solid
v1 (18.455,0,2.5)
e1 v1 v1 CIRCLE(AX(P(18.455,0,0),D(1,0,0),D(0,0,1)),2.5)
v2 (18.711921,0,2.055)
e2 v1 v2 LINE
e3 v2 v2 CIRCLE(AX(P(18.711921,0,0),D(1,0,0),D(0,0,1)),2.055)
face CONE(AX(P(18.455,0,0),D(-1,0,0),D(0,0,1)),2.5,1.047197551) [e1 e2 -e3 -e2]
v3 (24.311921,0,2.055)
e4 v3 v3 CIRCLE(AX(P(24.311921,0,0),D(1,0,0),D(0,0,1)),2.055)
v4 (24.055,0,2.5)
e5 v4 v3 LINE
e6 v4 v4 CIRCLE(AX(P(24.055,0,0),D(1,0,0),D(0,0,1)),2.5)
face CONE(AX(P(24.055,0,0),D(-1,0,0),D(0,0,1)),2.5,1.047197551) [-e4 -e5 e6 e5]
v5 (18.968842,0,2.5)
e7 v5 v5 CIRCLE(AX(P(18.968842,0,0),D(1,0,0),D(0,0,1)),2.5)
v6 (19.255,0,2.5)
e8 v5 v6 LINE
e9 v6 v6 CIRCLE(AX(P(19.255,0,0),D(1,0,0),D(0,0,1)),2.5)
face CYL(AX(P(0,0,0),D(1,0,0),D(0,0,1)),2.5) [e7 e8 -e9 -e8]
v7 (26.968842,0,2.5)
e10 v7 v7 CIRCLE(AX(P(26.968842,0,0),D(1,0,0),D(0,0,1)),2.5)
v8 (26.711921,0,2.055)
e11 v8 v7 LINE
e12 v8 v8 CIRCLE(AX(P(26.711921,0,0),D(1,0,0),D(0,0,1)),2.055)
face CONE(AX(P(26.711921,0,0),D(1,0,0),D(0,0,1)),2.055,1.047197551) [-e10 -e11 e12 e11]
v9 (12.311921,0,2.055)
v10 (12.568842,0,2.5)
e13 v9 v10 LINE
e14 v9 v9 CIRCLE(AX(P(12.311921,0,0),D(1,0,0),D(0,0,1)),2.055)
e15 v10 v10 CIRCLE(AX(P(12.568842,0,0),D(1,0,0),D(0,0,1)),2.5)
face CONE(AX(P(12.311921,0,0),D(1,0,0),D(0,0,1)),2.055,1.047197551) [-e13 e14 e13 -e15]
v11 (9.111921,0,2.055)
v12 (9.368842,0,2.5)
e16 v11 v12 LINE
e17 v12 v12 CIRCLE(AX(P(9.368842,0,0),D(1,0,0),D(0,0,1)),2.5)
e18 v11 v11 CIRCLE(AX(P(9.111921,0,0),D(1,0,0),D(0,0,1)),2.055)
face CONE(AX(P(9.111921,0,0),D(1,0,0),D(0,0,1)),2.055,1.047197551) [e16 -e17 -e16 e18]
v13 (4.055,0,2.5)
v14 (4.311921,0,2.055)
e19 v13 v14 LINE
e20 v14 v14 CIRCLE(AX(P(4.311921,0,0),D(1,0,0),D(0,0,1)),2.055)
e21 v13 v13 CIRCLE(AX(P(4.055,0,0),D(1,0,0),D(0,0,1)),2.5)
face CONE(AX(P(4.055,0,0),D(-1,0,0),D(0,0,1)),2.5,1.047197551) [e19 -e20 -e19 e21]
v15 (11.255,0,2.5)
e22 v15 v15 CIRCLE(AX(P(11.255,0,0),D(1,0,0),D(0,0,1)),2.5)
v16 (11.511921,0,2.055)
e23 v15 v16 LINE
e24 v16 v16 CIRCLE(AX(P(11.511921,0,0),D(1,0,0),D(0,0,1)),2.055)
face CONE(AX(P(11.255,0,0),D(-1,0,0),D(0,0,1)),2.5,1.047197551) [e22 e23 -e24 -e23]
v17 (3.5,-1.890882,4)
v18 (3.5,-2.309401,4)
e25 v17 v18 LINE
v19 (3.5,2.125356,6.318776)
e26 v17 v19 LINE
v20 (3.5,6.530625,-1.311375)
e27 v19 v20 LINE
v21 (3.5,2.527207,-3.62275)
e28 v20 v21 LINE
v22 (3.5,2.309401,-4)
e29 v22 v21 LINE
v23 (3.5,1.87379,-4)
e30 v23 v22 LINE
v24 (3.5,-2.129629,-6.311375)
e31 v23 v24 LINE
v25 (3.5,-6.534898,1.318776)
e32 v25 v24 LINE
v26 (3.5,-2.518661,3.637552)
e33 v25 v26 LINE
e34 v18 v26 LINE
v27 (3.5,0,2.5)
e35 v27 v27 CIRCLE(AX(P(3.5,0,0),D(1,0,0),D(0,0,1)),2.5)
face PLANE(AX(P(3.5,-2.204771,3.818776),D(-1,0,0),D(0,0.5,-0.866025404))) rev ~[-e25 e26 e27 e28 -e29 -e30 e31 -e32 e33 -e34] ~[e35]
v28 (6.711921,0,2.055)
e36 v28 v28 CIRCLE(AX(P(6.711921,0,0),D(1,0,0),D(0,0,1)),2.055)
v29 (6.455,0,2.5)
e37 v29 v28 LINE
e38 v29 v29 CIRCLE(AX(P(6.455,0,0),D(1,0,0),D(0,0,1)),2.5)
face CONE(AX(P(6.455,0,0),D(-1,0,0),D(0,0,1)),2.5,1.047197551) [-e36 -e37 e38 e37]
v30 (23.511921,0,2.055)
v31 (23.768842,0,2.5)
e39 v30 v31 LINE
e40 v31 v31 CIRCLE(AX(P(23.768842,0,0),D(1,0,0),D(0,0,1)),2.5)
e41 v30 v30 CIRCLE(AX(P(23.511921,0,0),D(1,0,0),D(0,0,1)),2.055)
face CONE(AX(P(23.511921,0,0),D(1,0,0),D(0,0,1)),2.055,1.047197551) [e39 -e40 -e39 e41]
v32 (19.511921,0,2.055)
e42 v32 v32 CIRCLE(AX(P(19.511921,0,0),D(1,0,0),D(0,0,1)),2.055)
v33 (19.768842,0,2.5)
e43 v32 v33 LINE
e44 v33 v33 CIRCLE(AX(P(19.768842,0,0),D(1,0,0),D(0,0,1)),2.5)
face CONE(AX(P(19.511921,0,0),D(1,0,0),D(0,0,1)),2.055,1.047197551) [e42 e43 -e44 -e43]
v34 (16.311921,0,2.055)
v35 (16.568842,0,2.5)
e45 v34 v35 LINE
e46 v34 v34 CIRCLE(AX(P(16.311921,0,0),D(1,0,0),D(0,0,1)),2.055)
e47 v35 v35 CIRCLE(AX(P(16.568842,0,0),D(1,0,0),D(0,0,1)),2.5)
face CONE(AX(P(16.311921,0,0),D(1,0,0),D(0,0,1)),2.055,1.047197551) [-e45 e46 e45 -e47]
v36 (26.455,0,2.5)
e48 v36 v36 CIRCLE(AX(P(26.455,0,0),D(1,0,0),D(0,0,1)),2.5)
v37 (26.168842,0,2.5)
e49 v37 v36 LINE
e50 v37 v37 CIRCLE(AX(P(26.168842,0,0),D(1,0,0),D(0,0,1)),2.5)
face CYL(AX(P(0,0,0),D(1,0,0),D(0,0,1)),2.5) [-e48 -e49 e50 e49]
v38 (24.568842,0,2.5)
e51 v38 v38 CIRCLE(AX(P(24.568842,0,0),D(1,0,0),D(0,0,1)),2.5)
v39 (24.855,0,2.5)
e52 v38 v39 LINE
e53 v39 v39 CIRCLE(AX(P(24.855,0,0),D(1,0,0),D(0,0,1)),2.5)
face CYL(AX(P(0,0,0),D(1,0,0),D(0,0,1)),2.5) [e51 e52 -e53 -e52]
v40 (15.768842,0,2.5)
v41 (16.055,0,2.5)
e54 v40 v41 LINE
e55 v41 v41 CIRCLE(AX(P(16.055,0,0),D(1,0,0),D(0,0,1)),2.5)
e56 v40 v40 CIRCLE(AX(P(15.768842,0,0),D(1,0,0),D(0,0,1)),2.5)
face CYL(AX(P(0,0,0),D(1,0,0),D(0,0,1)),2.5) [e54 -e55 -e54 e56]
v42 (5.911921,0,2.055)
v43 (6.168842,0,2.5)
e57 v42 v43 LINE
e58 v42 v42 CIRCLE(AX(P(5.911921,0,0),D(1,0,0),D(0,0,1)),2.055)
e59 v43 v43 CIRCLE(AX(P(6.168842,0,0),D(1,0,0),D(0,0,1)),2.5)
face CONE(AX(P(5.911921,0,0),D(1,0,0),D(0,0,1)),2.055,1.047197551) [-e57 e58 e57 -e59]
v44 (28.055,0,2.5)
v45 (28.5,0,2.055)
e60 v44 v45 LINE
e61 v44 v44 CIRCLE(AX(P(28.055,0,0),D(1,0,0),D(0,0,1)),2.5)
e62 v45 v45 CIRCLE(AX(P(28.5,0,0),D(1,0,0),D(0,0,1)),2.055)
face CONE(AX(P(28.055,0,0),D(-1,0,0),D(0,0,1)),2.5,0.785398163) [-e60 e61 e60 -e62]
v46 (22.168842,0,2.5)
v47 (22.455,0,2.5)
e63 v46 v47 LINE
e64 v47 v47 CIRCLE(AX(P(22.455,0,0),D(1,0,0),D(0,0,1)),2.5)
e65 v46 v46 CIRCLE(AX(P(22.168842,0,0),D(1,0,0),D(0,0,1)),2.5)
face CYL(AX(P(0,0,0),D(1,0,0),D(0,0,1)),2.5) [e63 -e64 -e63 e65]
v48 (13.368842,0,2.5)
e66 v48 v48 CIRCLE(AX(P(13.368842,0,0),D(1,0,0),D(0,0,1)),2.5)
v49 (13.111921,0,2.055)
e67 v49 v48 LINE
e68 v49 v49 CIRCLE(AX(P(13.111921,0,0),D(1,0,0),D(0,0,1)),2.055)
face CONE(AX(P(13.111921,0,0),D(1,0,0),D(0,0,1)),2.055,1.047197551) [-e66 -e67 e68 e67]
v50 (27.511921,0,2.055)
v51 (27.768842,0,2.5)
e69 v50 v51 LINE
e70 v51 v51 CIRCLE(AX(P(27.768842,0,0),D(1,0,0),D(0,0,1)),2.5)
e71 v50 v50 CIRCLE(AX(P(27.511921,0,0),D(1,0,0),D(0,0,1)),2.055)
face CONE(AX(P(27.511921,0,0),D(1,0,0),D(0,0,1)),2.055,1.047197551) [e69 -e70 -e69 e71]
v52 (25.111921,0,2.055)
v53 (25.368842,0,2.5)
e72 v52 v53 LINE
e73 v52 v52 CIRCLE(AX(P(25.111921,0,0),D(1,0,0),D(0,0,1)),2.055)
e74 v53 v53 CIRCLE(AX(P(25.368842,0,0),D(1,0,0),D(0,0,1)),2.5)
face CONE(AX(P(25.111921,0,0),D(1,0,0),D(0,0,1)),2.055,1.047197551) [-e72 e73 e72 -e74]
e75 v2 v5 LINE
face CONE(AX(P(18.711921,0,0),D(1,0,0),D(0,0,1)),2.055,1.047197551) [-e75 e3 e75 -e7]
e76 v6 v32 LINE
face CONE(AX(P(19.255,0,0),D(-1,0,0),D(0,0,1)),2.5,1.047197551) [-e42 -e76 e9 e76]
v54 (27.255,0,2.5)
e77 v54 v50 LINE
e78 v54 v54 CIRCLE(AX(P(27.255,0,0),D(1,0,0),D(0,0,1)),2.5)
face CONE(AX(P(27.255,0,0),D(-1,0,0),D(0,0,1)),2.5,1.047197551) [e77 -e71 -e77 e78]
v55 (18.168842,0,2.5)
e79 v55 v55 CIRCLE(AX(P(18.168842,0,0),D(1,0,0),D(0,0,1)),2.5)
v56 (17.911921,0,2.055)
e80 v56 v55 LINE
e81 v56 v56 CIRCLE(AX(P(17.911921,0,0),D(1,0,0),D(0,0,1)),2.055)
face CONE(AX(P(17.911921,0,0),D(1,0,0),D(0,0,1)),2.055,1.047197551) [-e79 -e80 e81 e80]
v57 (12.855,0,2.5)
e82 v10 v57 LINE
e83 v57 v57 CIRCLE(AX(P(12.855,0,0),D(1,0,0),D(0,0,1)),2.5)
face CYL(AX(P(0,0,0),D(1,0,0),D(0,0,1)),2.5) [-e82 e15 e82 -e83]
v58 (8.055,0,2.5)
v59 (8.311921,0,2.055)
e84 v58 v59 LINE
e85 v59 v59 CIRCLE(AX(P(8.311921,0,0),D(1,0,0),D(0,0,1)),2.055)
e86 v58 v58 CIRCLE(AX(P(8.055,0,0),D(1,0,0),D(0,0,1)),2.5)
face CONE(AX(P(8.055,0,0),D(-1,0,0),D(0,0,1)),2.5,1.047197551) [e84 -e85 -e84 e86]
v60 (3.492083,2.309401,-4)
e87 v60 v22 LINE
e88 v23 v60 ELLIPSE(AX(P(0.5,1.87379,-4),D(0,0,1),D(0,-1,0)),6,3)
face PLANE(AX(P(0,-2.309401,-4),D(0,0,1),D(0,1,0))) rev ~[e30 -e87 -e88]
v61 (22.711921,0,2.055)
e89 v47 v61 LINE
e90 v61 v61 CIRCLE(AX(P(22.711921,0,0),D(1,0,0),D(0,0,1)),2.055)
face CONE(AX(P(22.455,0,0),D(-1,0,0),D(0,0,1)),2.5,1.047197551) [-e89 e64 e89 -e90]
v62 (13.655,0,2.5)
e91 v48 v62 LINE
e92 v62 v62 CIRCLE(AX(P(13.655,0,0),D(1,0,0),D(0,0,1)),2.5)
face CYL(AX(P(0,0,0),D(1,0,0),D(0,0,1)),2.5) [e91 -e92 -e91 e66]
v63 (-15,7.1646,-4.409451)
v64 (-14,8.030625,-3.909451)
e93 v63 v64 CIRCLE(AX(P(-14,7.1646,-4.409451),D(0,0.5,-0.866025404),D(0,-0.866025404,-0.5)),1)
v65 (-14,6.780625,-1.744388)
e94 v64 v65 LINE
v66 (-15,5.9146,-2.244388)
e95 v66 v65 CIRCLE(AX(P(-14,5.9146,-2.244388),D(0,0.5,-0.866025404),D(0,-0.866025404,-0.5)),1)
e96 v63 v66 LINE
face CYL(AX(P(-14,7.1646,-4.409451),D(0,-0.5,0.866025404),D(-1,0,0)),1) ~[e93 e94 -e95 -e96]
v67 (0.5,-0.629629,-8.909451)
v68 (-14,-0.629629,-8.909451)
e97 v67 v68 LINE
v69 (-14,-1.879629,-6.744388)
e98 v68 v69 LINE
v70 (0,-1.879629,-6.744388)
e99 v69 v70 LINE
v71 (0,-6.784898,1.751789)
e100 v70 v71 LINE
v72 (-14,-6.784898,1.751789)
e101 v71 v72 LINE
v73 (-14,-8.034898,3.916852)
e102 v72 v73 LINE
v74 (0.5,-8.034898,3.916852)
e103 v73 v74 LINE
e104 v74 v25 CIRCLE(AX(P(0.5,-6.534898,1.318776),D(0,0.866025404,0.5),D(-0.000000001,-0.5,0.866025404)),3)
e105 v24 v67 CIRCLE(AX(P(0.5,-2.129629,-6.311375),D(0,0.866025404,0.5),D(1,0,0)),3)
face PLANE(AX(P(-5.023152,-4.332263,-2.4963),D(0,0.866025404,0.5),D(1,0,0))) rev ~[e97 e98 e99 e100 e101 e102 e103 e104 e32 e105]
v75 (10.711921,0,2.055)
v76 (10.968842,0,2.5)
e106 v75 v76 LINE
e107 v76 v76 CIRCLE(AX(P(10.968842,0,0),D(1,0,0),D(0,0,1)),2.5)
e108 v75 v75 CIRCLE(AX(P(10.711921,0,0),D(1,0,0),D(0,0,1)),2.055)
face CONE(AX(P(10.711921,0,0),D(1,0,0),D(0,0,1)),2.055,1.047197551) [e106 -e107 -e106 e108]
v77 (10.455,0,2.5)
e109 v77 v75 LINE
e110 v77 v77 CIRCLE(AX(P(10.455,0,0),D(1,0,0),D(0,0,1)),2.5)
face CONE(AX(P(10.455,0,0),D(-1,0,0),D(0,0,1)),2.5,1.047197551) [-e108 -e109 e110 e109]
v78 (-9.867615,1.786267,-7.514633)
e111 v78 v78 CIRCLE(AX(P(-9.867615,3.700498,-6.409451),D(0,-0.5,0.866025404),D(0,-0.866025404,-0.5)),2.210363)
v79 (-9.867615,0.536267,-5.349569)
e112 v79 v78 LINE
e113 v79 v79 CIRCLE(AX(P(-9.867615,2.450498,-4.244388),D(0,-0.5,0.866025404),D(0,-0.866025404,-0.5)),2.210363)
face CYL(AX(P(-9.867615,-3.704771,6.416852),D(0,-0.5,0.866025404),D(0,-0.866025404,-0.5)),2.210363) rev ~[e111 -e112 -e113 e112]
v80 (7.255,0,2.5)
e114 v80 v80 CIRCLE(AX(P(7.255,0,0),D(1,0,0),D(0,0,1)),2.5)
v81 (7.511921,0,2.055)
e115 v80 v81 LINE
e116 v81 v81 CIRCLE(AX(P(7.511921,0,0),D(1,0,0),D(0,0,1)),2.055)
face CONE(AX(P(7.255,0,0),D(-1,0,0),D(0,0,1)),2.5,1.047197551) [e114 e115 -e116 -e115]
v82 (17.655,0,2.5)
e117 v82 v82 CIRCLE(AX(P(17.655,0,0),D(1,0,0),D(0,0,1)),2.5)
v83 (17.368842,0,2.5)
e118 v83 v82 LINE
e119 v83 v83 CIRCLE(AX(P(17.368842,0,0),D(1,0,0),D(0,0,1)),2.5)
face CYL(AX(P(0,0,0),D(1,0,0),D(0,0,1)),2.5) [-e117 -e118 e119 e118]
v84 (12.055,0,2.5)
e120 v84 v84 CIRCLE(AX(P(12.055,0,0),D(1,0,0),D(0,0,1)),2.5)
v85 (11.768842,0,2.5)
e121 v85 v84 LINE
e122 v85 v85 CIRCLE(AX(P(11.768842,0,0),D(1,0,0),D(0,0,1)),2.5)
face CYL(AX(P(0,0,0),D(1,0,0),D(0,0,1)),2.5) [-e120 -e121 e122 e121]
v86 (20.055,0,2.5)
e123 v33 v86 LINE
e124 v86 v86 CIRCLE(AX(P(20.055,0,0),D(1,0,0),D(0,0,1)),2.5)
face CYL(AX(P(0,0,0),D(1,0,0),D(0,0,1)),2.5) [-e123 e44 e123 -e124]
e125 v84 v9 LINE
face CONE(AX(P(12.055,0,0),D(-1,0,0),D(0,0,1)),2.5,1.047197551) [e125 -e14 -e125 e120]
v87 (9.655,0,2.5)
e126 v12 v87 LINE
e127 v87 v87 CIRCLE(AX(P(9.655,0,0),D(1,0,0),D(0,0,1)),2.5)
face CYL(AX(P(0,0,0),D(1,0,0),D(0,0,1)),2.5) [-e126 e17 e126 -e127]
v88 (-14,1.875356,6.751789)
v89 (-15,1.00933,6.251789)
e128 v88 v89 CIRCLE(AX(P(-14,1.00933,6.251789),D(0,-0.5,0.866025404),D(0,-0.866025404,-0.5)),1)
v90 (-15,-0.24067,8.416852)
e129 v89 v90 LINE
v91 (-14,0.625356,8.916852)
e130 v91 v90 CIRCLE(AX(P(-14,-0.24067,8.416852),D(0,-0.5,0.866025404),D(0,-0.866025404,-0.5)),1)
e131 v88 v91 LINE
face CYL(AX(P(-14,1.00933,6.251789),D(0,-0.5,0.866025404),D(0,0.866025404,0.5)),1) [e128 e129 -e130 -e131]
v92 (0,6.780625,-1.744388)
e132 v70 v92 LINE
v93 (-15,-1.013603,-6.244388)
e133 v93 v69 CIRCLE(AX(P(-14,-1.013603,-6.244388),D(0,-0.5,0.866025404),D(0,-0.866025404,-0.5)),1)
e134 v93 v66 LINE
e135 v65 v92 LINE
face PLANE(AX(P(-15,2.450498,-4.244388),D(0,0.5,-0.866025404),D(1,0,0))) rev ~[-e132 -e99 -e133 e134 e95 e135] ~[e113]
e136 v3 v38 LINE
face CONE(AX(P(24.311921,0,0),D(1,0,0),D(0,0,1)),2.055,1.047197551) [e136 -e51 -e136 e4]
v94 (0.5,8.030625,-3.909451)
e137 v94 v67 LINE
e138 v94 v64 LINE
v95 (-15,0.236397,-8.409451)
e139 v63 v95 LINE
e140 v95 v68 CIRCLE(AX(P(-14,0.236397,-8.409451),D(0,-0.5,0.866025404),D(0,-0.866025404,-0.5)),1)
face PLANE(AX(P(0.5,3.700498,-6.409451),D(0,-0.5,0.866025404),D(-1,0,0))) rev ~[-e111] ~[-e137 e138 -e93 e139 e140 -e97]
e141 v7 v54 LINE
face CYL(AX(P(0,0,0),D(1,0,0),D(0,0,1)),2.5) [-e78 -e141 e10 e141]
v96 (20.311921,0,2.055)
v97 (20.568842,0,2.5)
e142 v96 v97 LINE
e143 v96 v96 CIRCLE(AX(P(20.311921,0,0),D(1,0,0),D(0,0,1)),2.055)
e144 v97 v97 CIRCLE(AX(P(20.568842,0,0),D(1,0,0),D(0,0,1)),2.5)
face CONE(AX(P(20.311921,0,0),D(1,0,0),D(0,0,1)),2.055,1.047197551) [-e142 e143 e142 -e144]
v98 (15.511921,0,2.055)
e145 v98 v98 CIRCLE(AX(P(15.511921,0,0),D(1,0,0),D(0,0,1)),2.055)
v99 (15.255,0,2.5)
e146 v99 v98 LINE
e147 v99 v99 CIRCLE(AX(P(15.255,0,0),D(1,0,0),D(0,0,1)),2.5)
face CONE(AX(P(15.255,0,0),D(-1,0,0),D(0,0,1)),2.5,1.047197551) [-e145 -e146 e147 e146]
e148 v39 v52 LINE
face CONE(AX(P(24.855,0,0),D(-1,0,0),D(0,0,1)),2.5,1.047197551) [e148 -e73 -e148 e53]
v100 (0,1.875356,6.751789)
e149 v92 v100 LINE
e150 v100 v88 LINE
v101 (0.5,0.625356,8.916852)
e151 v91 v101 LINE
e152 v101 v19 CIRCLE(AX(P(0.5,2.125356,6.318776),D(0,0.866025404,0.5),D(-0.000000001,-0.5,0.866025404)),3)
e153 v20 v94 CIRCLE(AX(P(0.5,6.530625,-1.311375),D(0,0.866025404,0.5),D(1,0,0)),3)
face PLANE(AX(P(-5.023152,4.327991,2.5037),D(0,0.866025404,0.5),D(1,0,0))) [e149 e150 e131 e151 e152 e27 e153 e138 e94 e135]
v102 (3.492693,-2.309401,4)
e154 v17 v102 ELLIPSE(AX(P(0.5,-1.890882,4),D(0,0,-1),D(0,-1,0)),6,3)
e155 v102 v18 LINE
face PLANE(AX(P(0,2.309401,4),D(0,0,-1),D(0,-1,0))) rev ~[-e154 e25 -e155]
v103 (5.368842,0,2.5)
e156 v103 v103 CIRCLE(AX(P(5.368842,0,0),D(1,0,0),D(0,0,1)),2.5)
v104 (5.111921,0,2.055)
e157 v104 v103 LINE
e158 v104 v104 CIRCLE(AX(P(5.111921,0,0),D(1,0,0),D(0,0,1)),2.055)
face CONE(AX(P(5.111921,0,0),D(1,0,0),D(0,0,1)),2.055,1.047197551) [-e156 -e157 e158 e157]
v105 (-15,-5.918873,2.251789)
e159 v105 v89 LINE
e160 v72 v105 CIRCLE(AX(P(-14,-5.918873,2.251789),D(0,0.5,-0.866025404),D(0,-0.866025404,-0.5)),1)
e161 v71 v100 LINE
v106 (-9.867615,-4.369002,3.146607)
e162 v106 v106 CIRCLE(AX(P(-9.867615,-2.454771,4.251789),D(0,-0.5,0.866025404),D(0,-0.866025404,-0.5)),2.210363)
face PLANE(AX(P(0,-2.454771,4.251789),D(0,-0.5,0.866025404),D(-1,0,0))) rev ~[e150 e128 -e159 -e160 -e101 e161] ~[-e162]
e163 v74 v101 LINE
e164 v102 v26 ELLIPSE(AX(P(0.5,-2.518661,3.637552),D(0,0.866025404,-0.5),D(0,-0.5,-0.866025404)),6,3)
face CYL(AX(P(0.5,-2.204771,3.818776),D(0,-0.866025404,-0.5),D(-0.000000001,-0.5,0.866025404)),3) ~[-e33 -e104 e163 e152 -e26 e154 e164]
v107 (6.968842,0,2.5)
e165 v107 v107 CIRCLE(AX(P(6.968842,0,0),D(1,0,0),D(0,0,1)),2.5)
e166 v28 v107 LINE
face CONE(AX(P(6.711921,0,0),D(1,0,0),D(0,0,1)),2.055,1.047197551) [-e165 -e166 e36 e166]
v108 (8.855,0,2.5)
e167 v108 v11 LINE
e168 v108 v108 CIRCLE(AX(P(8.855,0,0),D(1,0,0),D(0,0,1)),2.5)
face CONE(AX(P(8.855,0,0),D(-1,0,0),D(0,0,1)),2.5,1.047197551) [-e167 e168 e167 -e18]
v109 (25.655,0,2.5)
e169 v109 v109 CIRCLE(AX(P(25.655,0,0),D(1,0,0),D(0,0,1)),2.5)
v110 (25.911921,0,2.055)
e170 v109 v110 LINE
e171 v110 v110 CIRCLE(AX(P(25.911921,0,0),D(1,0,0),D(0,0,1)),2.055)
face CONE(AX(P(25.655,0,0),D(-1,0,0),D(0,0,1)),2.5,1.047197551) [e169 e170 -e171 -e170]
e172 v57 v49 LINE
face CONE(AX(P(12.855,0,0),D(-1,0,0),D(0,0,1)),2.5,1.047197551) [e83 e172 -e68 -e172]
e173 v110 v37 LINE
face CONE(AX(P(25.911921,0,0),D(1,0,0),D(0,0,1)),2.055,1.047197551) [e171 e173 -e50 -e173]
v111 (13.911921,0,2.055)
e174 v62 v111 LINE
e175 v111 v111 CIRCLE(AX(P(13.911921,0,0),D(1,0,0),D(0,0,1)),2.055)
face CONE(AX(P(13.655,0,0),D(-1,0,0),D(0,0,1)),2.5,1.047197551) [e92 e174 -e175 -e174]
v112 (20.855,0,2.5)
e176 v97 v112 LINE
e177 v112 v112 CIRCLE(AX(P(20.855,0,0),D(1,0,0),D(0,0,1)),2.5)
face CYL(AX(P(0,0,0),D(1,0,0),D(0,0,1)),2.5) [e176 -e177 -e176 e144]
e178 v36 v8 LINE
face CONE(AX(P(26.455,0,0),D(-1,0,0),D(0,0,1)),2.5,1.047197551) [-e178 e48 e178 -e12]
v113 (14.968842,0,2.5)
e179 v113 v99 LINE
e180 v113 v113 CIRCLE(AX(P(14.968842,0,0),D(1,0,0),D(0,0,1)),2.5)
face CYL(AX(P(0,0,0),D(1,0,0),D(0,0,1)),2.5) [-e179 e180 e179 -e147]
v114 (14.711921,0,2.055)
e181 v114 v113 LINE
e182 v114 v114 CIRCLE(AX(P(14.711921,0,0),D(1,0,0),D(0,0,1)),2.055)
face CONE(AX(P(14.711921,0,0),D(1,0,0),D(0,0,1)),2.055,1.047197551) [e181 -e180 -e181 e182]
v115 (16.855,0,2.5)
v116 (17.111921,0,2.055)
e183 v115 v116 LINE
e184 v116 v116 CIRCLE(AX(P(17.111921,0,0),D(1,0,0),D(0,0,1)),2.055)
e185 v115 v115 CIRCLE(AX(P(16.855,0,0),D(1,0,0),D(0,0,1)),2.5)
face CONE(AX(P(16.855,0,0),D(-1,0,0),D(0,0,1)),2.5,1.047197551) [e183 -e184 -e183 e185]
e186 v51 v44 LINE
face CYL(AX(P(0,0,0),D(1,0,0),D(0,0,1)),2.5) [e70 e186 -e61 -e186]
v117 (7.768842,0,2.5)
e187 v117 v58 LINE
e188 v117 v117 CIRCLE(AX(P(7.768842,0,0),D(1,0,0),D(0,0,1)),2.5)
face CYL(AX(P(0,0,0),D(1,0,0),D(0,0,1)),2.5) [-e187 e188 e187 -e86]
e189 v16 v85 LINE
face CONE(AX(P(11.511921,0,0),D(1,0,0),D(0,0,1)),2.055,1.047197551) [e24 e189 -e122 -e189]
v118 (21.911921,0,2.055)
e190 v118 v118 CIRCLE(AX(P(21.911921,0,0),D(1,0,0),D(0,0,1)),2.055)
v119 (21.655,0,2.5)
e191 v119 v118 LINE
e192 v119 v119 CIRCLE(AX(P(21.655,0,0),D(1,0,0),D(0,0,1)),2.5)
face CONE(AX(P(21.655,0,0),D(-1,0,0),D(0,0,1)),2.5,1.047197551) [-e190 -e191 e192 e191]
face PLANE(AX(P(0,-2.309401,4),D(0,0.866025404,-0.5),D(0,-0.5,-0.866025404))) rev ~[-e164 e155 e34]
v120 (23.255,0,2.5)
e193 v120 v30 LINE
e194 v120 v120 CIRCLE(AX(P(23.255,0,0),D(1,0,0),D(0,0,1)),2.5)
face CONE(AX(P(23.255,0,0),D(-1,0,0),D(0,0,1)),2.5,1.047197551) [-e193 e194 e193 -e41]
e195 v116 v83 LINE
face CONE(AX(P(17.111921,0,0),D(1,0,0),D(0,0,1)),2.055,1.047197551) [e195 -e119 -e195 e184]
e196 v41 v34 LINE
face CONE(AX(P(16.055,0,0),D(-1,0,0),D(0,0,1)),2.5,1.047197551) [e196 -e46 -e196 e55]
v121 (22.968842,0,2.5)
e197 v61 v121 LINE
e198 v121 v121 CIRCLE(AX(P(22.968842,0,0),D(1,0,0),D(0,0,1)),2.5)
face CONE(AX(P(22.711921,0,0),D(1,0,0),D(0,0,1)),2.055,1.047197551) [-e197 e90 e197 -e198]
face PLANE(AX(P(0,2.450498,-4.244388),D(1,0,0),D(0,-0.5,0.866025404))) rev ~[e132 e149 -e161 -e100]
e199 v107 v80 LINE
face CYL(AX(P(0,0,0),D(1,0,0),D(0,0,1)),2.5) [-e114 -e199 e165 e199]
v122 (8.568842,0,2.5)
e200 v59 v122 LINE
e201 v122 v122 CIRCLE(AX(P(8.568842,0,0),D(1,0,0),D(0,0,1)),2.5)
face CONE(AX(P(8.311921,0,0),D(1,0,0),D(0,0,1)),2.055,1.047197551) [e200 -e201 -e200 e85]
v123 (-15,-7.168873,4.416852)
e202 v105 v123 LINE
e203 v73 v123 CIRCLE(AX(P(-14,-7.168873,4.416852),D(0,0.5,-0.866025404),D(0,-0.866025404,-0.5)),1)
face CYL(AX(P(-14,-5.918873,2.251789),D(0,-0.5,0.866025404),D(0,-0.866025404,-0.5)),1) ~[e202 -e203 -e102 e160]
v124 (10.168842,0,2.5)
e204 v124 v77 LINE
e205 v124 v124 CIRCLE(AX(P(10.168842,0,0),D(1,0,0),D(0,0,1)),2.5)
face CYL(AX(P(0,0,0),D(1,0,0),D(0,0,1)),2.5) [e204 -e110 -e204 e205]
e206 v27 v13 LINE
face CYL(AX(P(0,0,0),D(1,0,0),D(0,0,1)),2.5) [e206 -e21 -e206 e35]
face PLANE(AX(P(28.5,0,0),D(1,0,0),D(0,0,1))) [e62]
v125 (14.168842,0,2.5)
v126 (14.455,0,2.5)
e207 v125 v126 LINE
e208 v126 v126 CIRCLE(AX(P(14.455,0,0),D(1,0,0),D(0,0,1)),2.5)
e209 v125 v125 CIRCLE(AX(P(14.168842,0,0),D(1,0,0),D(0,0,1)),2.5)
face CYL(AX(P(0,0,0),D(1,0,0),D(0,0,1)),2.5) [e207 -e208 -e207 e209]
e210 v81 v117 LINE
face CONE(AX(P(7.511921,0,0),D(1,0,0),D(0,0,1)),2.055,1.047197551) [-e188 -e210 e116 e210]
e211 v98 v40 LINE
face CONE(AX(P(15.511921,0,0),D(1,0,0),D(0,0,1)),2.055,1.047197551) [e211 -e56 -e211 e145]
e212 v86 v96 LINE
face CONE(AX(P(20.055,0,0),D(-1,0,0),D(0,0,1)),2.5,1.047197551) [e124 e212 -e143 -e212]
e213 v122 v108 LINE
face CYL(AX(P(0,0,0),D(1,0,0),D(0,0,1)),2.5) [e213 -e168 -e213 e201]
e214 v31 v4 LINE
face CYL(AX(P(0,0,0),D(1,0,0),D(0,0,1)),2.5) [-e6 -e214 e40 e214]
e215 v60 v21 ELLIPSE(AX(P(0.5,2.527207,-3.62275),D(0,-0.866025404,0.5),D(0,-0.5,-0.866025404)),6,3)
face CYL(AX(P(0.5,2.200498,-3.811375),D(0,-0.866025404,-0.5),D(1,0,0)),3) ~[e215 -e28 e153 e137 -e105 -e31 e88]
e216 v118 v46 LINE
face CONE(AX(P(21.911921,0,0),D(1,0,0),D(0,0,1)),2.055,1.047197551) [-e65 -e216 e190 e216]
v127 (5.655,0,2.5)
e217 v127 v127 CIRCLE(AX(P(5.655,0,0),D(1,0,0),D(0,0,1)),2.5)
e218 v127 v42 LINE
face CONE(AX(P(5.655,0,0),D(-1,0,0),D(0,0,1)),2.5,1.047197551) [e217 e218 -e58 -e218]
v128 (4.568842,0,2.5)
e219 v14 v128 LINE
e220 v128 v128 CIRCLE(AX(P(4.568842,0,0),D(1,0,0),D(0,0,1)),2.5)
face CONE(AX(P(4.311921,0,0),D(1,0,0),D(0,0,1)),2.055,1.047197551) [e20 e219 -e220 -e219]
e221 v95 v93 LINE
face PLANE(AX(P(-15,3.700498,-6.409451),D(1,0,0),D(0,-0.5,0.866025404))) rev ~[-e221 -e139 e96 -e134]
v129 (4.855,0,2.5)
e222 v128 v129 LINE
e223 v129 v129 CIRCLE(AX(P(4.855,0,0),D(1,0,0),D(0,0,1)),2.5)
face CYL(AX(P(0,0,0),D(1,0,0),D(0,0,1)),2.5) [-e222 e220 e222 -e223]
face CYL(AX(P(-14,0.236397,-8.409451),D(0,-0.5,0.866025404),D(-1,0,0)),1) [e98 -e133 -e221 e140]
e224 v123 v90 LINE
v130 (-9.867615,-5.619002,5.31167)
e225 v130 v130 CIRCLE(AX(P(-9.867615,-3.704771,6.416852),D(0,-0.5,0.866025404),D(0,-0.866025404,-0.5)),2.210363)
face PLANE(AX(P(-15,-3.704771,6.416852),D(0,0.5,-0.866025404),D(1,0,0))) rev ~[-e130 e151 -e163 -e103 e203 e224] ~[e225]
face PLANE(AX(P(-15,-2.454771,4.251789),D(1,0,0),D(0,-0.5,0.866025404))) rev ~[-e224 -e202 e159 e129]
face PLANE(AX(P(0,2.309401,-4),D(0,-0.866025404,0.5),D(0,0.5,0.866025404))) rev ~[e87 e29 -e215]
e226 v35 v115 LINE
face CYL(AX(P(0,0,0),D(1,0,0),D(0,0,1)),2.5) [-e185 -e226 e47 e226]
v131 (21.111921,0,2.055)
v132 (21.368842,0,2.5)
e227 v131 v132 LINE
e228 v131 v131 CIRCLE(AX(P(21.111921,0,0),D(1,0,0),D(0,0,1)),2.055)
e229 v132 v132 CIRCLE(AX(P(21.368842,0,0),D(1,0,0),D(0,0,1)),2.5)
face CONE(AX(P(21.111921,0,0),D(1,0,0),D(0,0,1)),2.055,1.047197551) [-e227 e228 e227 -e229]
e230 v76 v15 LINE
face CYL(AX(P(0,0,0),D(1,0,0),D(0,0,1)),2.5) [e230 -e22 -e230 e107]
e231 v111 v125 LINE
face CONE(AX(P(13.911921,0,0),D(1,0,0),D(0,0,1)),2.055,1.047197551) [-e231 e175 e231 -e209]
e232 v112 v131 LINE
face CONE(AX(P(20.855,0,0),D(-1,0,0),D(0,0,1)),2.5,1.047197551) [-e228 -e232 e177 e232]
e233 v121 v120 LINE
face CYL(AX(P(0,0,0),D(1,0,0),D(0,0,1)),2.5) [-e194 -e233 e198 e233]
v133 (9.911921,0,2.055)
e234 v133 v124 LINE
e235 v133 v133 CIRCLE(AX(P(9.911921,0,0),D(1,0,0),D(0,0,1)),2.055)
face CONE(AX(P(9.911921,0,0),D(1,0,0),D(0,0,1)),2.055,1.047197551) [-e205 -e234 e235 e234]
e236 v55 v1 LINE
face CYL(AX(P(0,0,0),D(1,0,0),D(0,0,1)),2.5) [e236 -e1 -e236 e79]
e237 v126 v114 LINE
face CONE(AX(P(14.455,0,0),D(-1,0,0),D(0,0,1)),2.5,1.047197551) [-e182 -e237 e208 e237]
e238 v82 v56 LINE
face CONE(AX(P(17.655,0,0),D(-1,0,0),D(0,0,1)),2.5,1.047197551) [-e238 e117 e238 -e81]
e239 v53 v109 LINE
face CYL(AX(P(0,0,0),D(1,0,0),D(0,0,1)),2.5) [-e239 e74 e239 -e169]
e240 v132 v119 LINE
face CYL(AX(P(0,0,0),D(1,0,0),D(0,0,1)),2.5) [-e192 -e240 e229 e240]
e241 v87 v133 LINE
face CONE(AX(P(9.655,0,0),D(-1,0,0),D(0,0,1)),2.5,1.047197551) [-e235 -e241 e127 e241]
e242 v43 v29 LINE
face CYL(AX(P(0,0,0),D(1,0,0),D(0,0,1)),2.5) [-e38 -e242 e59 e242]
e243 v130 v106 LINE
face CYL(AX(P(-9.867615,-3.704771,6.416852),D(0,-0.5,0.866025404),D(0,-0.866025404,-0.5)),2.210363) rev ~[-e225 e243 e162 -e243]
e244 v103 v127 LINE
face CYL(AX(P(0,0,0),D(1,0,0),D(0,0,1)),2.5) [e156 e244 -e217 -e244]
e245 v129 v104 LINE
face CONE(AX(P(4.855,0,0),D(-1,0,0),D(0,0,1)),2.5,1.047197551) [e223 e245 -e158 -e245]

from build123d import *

# Parameters (mm, degrees)
BASEHEAD_DEPTH      = 3.5
THDSCHPAT_COUNT     = 30
THDSCHPAT_PITCH     = 0.8
BOSS_EXTRUDE1_DEPTH = 5
FILLET1_R           = 1
SKETCH2_R           = 2.210363486
CUT_EXTRUDE1_DEPTH  = 23


with BuildPart() as part:
    # BaseHeadSke → BaseHead (new body)
    with BuildSketch(Plane(origin=(0, 0, 0), x_dir=(0, 0, -1), z_dir=(1, 0, 0))):
        Polygon((0, 4.618802154), (-4, 2.309401077), (-4, -2.309401077), (0, -4.618802154), (4, -2.309401077), (4, 2.309401077), align=None)
    extrude(amount=BASEHEAD_DEPTH)

    # HeadChamferSke → HeadChamfer (revolve, cut)
    with BuildSketch(Plane.XY):
        Polygon((0, 4.618802154), (0, 4), (0.35726559, 4.618802154), align=None)
    revolve(axis=Axis((0, 0, 0), (1, 0, 0)), mode=Mode.SUBTRACT)

    # BodySke → BaseBody (revolve)
    with BuildSketch(Plane.XY, mode=Mode.PRIVATE) as basebody_sk:
        Polygon((0, 0), (0, 2.5), (28.055, 2.5), (28.5, 2.055), (28.5, 0), align=None)
    revolve(basebody_sk.sketch.rotate(Axis((0, 0, 0), (1, 0, 0)), 90), axis=Axis((0, 0, 0), (1, 0, 0)))

    # ThdSchSke → ThreadSchematic (revolve, cut)
    with BuildSketch(Plane.XY, mode=Mode.PRIVATE) as threadschematic_sk:
        Polygon((27.255, 3.01384174), (27.255, 2.5), (27.51192087, 2.055), (27.76884174, 2.5), (27.76884174, 3.01384174), align=None)
    threadschematic = revolve(threadschematic_sk.sketch.rotate(Axis((0, 0, 0), (1, 0, 0)), 90), axis=Axis((0, 0, 0), (1, 0, 0)), mode=Mode.SUBTRACT)

    # ThdSchPat: ThreadSchematic ×30
    with Locations(*[(-i * THDSCHPAT_PITCH, 0, 0) for i in range(1, THDSCHPAT_COUNT)]):
        add(threadschematic, mode=Mode.SUBTRACT)

    # Sketch1 → Boss-Extrude1 (add, symmetric)
    with BuildSketch(Plane(origin=(0, 0, 0), x_dir=(-1, 0, 0), z_dir=(0, -0.8660254037844388, -0.49999999999999983))):
        with BuildLine():
            Line((0, 7.400996674), (15, 7.400996674))
            Line((15, 7.400996674), (15, 4.900996674))
            Line((15, 4.900996674), (0, 4.900996674))
            Line((0, 4.900996674), (0, 0))
            Line((0, 0), (0, -4.909542525))
            Line((0, -4.909542525), (15, -4.909542525))
            Line((15, -4.909542525), (15, -7.409542525))
            Line((15, -7.409542525), (-0.5, -7.409542525))
            ThreePointArc((-0.5, -7.409542525), (-2.621320344, -6.530862869), (-3.5, -4.409542525))
            Line((-3.5, -4.409542525), (-3.5, 4.400996674))
            ThreePointArc((-3.5, 4.400996674), (-2.621320344, 6.522317018), (-0.5, 7.400996674))
            Line((-0.5, 7.400996674), (0, 7.400996674))
        make_face()
    extrude(amount=BOSS_EXTRUDE1_DEPTH, both=True)

    # Fillet1
    fillet1_edges = [part.edges().sort_by_distance(p)[0] for p in [
        (-15, 1.250355756, 7.834320303),
        (-15, 7.405625356, -2.826919378),
        (-15, -7.409898282, 2.834320303),
        (-15, -1.254628682, -7.826919378),
    ]]
    fillet(fillet1_edges, radius=FILLET1_R)

    # Sketch2 → Cut-Extrude1 (cut)
    with BuildSketch(Plane(origin=(0, -3.704771263, 6.416852057), x_dir=(1, 0, 0), z_dir=(0, -0.49999999999999983, 0.8660254037844387))):
        with Locations(Location((-9.867615043, 0, 0), (0, 0, 270))):
            Circle(SKETCH2_R)
    extrude(amount=-CUT_EXTRUDE1_DEPTH, mode=Mode.SUBTRACT)


solid = part.part
